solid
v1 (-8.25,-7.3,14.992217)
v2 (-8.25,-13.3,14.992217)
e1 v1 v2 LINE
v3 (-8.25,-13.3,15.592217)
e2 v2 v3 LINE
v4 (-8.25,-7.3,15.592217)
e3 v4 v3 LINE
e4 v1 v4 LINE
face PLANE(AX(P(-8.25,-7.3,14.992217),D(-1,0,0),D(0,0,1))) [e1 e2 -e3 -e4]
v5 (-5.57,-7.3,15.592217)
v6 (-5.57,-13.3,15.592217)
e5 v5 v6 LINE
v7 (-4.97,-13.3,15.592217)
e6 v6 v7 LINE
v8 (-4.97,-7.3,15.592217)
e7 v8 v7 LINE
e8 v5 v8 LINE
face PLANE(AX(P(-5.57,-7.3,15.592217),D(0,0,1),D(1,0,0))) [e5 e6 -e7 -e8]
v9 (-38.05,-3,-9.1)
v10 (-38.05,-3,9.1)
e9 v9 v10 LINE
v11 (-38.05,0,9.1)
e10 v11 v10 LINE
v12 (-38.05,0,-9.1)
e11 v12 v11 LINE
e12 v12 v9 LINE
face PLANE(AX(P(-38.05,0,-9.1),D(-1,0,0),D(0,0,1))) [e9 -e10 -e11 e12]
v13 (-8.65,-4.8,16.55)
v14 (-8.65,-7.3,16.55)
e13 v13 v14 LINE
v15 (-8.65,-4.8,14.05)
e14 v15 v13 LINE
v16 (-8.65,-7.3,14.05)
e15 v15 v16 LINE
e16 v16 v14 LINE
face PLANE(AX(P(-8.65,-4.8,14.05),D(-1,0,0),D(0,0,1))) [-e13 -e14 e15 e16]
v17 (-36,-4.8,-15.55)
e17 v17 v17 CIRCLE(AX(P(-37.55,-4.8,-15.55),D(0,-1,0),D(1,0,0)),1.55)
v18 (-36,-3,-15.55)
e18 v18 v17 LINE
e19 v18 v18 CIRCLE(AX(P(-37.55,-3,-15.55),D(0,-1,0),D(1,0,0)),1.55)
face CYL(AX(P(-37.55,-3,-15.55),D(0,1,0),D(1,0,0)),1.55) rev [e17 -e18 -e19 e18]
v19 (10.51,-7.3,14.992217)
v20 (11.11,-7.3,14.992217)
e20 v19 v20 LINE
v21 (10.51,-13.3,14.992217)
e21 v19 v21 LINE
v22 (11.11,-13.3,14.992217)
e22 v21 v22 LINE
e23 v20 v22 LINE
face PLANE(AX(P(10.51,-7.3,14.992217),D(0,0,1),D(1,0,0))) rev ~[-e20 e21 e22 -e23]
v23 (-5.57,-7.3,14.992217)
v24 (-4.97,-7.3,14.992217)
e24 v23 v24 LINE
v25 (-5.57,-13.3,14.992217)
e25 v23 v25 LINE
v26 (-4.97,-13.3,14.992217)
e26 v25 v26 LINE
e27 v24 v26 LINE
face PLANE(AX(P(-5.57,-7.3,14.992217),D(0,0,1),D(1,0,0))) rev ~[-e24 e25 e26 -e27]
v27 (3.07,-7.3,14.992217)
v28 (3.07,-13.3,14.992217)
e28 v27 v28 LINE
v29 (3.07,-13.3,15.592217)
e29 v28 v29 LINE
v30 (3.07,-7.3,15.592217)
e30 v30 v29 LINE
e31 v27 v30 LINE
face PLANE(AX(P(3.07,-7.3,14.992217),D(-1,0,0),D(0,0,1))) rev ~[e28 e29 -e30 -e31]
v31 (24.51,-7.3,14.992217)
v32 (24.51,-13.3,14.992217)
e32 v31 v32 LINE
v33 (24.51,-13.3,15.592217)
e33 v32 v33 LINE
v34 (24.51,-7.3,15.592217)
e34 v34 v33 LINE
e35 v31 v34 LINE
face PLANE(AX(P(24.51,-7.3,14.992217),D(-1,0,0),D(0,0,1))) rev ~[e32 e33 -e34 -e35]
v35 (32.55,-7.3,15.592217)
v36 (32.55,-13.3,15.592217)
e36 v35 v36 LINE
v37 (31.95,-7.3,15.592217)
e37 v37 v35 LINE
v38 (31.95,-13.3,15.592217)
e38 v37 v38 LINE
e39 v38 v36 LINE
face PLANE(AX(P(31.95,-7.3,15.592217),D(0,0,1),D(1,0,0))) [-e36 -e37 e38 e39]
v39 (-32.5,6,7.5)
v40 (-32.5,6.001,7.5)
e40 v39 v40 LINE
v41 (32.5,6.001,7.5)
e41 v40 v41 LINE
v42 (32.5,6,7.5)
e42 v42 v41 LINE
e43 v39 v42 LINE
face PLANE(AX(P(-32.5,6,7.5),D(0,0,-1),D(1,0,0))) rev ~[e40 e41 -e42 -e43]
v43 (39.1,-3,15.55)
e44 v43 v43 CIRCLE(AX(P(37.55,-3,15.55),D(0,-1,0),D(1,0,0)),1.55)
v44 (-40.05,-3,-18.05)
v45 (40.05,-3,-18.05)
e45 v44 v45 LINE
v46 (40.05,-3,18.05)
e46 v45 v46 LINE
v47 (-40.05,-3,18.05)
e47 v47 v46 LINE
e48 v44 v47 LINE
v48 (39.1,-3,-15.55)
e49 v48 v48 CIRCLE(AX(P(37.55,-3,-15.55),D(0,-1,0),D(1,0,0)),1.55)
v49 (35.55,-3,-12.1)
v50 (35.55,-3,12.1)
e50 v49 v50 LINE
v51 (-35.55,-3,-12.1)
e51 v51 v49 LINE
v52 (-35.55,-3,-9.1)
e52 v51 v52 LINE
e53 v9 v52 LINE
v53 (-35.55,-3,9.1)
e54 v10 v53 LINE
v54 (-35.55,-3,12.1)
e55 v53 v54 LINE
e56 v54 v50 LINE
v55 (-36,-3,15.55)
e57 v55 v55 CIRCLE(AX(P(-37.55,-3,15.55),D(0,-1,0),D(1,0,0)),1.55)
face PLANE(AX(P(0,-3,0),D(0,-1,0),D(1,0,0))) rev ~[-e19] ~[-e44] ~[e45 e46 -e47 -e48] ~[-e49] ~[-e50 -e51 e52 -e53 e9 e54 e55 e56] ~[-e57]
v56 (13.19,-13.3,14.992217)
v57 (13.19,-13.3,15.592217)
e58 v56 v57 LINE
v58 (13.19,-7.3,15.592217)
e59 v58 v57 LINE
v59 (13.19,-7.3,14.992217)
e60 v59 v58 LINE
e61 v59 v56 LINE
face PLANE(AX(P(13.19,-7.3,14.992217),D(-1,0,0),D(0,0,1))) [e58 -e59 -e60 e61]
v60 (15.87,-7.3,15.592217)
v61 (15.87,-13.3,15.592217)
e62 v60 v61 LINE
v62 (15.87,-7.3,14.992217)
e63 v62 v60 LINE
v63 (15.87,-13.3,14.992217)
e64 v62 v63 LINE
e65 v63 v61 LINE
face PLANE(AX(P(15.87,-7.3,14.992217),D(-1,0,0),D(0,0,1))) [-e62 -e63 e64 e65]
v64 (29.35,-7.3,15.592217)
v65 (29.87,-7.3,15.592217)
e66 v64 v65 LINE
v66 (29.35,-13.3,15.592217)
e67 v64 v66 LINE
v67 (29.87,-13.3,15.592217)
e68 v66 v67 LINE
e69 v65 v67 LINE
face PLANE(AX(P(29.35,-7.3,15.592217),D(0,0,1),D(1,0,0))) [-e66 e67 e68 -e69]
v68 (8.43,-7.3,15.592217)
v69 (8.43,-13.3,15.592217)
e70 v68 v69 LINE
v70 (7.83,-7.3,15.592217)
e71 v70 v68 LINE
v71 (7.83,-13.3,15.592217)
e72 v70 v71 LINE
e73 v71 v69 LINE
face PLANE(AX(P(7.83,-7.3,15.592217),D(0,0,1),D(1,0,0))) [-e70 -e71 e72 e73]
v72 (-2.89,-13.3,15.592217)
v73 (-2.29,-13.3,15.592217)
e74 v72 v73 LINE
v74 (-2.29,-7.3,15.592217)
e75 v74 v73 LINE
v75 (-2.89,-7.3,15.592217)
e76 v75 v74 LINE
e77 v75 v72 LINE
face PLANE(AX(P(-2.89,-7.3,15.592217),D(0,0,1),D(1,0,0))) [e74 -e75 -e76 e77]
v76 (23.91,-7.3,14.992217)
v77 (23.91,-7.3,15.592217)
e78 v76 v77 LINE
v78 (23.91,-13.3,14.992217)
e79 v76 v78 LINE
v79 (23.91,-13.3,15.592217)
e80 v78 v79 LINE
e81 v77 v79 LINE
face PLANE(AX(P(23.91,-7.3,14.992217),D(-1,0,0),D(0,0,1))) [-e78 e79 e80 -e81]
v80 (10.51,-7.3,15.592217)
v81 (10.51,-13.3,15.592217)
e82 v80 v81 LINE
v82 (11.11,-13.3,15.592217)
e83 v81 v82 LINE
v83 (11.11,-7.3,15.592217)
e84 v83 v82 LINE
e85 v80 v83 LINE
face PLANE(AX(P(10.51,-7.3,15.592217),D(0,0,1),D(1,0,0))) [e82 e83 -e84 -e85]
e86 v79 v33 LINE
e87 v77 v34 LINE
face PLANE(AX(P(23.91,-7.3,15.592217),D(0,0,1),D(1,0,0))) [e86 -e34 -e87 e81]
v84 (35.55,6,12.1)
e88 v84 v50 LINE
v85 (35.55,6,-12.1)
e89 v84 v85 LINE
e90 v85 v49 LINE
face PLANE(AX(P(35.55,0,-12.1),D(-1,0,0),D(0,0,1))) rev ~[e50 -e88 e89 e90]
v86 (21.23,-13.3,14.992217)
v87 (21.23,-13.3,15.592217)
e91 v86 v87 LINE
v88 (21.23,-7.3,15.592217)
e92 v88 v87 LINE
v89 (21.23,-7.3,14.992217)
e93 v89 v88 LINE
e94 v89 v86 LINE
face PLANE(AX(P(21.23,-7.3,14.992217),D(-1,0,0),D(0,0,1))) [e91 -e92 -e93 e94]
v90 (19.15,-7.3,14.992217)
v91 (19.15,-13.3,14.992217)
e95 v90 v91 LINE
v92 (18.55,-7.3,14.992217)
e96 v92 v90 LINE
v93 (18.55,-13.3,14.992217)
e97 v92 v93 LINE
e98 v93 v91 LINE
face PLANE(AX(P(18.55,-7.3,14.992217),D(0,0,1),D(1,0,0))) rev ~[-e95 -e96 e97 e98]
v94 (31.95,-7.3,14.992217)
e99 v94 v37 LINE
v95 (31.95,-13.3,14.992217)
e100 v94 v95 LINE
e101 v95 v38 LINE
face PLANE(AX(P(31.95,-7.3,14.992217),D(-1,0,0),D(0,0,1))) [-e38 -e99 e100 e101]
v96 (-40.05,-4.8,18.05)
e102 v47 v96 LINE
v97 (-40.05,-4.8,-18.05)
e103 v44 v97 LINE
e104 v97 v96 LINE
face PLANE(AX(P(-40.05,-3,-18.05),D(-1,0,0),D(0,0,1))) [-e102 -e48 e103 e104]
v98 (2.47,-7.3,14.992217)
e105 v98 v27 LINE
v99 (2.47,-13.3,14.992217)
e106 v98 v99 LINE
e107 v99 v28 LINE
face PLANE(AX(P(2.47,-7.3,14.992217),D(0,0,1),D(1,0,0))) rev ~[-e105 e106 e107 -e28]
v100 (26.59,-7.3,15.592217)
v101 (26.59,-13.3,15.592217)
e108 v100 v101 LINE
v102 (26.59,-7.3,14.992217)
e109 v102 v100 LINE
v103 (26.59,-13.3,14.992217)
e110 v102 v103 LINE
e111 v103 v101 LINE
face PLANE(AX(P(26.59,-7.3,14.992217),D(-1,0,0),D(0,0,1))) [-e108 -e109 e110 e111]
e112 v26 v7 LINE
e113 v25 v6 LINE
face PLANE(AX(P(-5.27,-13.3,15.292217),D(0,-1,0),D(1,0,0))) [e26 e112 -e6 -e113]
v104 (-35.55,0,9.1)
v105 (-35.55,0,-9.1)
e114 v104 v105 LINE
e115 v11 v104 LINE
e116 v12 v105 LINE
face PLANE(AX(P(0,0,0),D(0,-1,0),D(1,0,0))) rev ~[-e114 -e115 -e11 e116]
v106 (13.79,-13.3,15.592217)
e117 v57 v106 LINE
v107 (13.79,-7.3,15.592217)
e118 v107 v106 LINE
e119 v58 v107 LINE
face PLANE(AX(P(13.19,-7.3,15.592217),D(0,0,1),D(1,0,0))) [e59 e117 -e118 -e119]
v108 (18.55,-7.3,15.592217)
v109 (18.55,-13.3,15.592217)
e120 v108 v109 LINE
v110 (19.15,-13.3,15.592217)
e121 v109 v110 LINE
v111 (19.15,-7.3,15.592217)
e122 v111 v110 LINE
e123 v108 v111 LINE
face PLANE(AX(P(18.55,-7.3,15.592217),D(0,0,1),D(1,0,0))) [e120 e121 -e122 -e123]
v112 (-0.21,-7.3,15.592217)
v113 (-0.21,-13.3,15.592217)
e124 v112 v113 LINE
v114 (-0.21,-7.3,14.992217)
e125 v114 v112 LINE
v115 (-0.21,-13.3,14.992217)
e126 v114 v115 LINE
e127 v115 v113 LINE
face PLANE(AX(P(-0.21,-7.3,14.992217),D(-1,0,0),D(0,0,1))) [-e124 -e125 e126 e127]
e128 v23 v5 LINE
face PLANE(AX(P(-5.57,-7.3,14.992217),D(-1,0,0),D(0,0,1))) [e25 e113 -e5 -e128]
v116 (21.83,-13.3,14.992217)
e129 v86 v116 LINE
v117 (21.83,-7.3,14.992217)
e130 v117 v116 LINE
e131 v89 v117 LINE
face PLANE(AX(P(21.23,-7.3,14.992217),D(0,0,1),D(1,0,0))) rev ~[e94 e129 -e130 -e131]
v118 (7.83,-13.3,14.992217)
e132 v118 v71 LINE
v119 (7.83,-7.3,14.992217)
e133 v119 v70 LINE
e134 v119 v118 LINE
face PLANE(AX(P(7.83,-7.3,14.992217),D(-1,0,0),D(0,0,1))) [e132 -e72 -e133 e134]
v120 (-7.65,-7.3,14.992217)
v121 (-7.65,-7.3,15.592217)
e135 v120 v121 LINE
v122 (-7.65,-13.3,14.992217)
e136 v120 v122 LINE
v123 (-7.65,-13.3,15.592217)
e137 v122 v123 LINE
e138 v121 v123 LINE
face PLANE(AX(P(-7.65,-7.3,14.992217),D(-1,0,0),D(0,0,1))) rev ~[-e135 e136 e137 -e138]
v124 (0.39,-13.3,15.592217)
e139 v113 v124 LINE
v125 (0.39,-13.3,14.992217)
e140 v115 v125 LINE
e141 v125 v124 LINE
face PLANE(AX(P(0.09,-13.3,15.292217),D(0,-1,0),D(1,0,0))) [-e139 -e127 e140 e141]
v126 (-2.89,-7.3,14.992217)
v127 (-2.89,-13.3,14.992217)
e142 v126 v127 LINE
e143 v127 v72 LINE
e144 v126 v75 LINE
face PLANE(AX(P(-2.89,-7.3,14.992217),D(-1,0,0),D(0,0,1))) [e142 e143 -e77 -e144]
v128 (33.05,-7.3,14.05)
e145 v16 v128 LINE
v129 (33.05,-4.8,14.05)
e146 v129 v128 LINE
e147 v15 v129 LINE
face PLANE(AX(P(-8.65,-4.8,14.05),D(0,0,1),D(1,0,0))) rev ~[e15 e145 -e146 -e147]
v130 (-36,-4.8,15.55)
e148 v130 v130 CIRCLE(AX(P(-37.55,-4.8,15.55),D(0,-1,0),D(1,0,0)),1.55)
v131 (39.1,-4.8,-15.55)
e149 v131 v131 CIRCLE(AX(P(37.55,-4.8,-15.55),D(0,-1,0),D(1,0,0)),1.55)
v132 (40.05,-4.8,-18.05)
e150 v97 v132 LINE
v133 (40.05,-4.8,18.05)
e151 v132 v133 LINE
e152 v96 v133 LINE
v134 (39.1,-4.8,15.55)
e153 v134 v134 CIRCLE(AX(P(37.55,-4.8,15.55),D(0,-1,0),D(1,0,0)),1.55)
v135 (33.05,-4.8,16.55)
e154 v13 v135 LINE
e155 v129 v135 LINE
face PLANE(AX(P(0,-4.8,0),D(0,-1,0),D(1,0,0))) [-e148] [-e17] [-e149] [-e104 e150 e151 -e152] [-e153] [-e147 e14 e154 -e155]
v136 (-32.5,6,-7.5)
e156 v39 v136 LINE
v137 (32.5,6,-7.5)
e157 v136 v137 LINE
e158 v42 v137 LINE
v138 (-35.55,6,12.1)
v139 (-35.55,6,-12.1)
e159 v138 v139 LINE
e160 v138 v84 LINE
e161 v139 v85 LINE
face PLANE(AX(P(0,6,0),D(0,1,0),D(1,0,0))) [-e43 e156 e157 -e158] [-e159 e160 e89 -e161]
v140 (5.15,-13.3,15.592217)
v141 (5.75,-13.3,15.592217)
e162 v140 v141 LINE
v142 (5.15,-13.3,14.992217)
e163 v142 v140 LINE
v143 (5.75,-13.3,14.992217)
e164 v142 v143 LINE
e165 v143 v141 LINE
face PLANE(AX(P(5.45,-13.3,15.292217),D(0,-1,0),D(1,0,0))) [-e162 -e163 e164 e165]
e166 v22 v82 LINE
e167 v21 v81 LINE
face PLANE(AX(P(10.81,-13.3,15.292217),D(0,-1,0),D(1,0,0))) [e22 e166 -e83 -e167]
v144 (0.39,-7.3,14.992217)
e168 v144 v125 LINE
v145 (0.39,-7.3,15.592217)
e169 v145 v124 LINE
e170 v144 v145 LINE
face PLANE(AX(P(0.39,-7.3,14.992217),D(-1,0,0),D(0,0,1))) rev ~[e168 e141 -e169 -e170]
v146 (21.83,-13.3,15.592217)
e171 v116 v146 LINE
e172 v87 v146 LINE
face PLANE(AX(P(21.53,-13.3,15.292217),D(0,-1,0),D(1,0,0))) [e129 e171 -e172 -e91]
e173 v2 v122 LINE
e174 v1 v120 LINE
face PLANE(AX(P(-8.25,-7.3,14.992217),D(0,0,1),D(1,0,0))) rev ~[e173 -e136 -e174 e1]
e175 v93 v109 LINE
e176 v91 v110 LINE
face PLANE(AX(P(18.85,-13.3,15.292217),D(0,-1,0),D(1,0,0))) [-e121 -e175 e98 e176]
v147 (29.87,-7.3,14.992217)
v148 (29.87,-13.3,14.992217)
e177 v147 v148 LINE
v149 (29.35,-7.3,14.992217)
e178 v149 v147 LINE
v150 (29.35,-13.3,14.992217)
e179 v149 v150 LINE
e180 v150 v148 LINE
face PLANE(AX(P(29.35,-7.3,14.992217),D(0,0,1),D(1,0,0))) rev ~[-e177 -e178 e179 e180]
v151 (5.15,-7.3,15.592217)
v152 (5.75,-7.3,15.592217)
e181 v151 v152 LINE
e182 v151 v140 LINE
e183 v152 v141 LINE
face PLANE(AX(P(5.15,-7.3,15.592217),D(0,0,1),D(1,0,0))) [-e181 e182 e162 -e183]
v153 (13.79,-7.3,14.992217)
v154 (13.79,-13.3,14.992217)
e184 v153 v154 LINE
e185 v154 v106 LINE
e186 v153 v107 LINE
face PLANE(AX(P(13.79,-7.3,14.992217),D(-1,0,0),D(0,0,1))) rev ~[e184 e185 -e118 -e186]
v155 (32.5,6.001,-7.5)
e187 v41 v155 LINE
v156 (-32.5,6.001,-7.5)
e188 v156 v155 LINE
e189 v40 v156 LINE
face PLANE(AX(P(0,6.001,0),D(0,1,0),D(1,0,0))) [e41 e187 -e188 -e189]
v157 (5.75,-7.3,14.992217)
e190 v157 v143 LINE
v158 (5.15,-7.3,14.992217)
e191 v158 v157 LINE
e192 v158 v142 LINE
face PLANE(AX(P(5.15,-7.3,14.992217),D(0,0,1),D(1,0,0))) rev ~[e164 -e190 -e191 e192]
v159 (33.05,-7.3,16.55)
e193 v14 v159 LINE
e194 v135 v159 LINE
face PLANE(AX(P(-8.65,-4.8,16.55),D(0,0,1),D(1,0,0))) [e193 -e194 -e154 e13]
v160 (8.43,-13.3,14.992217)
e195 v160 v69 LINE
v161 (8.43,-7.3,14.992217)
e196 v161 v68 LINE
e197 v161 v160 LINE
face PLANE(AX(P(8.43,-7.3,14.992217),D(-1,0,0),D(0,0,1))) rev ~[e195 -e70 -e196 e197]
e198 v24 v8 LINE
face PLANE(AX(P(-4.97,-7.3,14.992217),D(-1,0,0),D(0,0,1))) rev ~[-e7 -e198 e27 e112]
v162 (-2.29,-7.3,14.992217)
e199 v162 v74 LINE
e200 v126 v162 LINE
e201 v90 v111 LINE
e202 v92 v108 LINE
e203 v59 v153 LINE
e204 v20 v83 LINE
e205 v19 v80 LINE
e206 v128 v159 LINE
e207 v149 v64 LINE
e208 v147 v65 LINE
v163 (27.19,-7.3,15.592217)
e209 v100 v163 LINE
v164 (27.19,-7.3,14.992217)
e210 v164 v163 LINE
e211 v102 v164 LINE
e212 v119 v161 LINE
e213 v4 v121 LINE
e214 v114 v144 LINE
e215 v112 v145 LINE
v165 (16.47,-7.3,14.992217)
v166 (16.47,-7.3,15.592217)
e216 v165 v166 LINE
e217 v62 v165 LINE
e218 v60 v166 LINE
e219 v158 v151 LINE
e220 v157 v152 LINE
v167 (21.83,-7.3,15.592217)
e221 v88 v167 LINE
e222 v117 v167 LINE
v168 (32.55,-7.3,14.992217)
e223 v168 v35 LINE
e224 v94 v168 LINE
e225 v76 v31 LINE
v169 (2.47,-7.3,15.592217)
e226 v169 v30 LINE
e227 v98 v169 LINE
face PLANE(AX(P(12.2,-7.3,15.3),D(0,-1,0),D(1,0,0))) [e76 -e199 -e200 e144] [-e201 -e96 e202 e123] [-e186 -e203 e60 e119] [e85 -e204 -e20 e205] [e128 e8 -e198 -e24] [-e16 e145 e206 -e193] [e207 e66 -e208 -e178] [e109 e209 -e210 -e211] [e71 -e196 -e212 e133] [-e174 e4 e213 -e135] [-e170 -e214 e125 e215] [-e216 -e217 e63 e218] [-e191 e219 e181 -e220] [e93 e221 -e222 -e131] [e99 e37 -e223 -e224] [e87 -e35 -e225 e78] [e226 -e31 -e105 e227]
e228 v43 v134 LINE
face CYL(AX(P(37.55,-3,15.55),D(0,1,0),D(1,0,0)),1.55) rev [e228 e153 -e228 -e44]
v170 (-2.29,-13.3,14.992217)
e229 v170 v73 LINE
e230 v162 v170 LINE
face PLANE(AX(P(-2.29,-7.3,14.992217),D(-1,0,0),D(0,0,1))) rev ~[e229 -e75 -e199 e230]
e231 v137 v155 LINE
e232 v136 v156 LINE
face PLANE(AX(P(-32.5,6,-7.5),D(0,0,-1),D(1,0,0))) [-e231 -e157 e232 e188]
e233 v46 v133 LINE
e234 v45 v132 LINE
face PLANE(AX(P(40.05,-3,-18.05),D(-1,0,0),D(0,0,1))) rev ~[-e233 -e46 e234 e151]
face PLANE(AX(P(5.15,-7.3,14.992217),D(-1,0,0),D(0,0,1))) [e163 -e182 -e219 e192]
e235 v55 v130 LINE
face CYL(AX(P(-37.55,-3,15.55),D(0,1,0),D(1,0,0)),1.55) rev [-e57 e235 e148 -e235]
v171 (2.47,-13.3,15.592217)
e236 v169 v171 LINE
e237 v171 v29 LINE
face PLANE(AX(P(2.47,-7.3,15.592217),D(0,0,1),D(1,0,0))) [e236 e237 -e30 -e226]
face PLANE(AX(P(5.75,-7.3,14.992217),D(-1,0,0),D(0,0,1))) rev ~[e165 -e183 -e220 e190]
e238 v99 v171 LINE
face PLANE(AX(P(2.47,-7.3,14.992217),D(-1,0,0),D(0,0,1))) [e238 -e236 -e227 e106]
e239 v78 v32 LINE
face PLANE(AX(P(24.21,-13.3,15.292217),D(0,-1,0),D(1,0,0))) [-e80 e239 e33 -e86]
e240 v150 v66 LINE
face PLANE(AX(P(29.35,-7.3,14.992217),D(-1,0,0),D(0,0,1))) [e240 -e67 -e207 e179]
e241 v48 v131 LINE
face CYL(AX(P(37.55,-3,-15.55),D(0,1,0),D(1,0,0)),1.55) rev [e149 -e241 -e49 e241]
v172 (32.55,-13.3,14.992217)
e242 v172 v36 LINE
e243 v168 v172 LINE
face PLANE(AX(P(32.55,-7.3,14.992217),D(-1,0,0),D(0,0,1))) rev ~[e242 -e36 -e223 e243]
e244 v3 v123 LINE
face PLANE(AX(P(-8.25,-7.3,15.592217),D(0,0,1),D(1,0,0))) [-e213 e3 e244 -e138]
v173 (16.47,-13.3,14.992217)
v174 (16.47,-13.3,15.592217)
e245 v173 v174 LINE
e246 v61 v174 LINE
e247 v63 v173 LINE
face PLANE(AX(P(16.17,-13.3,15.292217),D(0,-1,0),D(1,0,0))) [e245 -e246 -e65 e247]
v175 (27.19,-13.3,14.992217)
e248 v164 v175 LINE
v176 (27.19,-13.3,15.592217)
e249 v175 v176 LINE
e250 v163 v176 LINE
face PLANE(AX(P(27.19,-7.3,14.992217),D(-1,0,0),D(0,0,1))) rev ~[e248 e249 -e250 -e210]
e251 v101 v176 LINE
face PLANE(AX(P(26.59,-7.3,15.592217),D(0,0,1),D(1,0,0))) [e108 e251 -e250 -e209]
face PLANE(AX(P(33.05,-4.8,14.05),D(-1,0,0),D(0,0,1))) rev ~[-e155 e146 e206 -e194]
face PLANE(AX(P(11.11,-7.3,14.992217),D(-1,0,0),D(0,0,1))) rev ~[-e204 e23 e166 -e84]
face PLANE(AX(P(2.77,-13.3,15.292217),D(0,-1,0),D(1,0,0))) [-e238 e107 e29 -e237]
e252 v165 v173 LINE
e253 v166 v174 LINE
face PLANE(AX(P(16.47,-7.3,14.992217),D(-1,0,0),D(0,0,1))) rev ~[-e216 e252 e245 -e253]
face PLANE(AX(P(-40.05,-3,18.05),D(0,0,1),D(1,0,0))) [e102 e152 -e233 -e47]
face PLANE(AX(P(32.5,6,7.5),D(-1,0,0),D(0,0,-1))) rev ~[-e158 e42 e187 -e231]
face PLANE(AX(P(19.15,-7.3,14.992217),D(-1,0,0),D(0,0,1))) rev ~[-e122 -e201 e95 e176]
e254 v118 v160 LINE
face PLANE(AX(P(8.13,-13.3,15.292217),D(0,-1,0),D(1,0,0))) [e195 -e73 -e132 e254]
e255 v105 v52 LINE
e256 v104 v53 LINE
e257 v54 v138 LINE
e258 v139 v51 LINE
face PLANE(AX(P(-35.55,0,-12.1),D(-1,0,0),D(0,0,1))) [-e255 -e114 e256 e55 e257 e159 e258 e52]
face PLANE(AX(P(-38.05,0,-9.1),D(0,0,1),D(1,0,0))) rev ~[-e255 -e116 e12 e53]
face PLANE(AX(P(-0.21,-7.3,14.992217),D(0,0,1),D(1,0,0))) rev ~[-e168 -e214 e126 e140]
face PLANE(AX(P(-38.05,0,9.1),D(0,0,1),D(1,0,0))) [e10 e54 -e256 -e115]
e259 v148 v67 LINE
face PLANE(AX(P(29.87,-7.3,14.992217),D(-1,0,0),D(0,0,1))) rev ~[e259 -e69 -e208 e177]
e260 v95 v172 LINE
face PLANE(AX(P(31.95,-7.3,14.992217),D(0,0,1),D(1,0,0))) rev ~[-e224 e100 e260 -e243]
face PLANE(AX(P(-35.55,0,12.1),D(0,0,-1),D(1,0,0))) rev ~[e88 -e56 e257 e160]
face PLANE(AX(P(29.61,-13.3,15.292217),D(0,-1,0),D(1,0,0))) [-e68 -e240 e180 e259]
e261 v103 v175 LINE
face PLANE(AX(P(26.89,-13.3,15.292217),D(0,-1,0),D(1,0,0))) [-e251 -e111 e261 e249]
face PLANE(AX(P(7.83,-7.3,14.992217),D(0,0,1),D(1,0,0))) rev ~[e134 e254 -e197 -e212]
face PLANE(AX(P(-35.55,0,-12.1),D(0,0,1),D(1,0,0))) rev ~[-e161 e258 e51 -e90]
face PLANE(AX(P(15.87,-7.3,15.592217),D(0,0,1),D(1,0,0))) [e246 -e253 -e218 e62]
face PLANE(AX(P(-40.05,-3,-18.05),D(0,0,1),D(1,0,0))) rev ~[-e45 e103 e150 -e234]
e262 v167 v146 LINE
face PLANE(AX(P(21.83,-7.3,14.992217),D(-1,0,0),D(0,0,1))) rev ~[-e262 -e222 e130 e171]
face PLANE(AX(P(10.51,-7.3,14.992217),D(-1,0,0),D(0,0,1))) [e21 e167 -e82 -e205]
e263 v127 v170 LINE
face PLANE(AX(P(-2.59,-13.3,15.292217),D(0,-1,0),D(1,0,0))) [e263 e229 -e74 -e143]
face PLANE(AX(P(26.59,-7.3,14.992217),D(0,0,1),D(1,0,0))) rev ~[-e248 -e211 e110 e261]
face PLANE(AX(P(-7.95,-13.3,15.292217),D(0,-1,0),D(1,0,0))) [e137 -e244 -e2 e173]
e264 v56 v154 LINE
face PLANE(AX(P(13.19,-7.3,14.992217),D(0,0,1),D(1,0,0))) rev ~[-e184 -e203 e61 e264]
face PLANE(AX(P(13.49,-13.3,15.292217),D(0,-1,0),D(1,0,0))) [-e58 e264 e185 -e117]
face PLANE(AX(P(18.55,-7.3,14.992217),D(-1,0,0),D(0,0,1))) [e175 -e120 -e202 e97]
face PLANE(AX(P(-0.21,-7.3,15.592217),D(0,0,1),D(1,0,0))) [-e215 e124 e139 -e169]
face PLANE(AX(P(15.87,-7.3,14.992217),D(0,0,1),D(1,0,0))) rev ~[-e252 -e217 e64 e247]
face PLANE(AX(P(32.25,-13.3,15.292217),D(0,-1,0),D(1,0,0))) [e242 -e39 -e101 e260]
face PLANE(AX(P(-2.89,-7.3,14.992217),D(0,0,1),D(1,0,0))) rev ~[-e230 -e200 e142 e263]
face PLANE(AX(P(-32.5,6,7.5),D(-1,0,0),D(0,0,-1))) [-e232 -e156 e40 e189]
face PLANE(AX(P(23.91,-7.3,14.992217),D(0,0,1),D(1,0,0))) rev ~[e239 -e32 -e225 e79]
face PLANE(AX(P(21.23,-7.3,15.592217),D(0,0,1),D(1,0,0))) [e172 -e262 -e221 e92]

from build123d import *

# Parameters (mm, degrees)
SKETCH1_W                = 71.1
SKETCH1_H                = 24.2
BOSS_EXTRUDE1_DEPTH      = 6
SKETCH2_W                = 71.1
SKETCH2_H                = 24.2
SKETCH2_W_2              = 2.5
SKETCH2_H_2              = 18.2
BOSS_EXTRUDE2_DEPTH      = 3
SKETCH3_W                = 80.1
SKETCH3_H                = 36.1
SKETCH3_R                = 1.55
BOSS_EXTRUDE3_DEPTH      = 1.8
SKETCH4_W                = 65
SKETCH4_H                = 15
BOSS_EXTRUDE4_DEPTH      = 0.001
BOSS_EXTRUDE4_DEPTH_BACK = 6
SKETCH5_W                = 41.7
SKETCH5_H                = 2.5
BOSS_EXTRUDE5_DEPTH      = 2.5
SKETCH6_W                = 0.6
SKETCH6_H                = 0.6
SKETCH6_W_2              = 0.52
BOSS_EXTRUDE6_DEPTH      = 6


with BuildPart() as part:
    # Sketch1 → Boss-Extrude1 (new body)
    with BuildSketch(Plane(origin=(0, 0, 0), x_dir=(1, 0, 0), z_dir=(0, 1, 0))):
        Rectangle(SKETCH1_W, SKETCH1_H)
    extrude(amount=BOSS_EXTRUDE1_DEPTH)

    # Sketch2 → Boss-Extrude2 (add)
    with BuildSketch(Plane.XZ):
        Rectangle(SKETCH2_W, SKETCH2_H)
        with Locations((-36.8, 0)):
            Rectangle(SKETCH2_W_2, SKETCH2_H_2)
    extrude(amount=BOSS_EXTRUDE2_DEPTH)

    # Sketch3 → Boss-Extrude3 (add)
    with BuildSketch(Plane.XZ.offset(3)):
        Rectangle(SKETCH3_W, SKETCH3_H)
        with Locations((-37.55, -15.55)):
            Circle(SKETCH3_R, mode=Mode.SUBTRACT)
        with Locations((37.55, -15.55)):
            Circle(SKETCH3_R, mode=Mode.SUBTRACT)
        with Locations((37.55, 15.55)):
            Circle(SKETCH3_R, mode=Mode.SUBTRACT)
        with Locations((-37.55, 15.55)):
            Circle(SKETCH3_R, mode=Mode.SUBTRACT)
    extrude(amount=BOSS_EXTRUDE3_DEPTH)

    # Sketch4 → Boss-Extrude4 (add, two sides)
    with BuildSketch(Plane(origin=(0, 6, 0), x_dir=(1, 0, 0), z_dir=(0, 1, 0))) as boss_extrude4_sk:
        Rectangle(SKETCH4_W, SKETCH4_H)
    extrude(amount=BOSS_EXTRUDE4_DEPTH)
    extrude(boss_extrude4_sk.sketch, amount=-BOSS_EXTRUDE4_DEPTH_BACK)

    # Sketch5 → Boss-Extrude5 (add)
    with BuildSketch(Plane.XZ.offset(4.8)):
        with Locations((12.2, 15.3)):
            Rectangle(SKETCH5_W, SKETCH5_H)
    extrude(amount=BOSS_EXTRUDE5_DEPTH)

    # Sketch6 → Boss-Extrude6 (add)
    with BuildSketch(Plane.XZ.offset(7.3)):
        with Locations((32.25, 15.292216916)):
            Rectangle(SKETCH6_W, SKETCH6_H)
        with Locations((29.61, 15.292216916)):
            Rectangle(SKETCH6_W_2, SKETCH6_H)
        with Locations((26.89, 15.292216916)):
            Rectangle(SKETCH6_W, SKETCH6_H)
        with Locations((24.21, 15.292216916)):
            Rectangle(SKETCH6_W, SKETCH6_H)
        with Locations((21.53, 15.292216916)):
            Rectangle(SKETCH6_W, SKETCH6_H)
        with Locations((18.85, 15.292216916)):
            Rectangle(SKETCH6_W, SKETCH6_H)
        with Locations((16.17, 15.292216916)):
            Rectangle(SKETCH6_W, SKETCH6_H)
        with Locations((13.49, 15.292216916)):
            Rectangle(SKETCH6_W, SKETCH6_H)
        with Locations((10.81, 15.292216916)):
            Rectangle(SKETCH6_W, SKETCH6_H)
        with Locations((8.13, 15.292216916)):
            Rectangle(SKETCH6_W, SKETCH6_H)
        with Locations((5.45, 15.292216916)):
            Rectangle(SKETCH6_W, SKETCH6_H)
        with Locations((2.77, 15.292216916)):
            Rectangle(SKETCH6_W, SKETCH6_H)
        with Locations((-7.95, 15.292216916)):
            Rectangle(SKETCH6_W, SKETCH6_H)
        with Locations((-5.27, 15.292216916)):
            Rectangle(SKETCH6_W, SKETCH6_H)
        with Locations((0.09, 15.292216916)):
            Rectangle(SKETCH6_W, SKETCH6_H)
        with Locations((-2.59, 15.292216916)):
            Rectangle(SKETCH6_W, SKETCH6_H)
    extrude(amount=BOSS_EXTRUDE6_DEPTH)


solid = part.part
